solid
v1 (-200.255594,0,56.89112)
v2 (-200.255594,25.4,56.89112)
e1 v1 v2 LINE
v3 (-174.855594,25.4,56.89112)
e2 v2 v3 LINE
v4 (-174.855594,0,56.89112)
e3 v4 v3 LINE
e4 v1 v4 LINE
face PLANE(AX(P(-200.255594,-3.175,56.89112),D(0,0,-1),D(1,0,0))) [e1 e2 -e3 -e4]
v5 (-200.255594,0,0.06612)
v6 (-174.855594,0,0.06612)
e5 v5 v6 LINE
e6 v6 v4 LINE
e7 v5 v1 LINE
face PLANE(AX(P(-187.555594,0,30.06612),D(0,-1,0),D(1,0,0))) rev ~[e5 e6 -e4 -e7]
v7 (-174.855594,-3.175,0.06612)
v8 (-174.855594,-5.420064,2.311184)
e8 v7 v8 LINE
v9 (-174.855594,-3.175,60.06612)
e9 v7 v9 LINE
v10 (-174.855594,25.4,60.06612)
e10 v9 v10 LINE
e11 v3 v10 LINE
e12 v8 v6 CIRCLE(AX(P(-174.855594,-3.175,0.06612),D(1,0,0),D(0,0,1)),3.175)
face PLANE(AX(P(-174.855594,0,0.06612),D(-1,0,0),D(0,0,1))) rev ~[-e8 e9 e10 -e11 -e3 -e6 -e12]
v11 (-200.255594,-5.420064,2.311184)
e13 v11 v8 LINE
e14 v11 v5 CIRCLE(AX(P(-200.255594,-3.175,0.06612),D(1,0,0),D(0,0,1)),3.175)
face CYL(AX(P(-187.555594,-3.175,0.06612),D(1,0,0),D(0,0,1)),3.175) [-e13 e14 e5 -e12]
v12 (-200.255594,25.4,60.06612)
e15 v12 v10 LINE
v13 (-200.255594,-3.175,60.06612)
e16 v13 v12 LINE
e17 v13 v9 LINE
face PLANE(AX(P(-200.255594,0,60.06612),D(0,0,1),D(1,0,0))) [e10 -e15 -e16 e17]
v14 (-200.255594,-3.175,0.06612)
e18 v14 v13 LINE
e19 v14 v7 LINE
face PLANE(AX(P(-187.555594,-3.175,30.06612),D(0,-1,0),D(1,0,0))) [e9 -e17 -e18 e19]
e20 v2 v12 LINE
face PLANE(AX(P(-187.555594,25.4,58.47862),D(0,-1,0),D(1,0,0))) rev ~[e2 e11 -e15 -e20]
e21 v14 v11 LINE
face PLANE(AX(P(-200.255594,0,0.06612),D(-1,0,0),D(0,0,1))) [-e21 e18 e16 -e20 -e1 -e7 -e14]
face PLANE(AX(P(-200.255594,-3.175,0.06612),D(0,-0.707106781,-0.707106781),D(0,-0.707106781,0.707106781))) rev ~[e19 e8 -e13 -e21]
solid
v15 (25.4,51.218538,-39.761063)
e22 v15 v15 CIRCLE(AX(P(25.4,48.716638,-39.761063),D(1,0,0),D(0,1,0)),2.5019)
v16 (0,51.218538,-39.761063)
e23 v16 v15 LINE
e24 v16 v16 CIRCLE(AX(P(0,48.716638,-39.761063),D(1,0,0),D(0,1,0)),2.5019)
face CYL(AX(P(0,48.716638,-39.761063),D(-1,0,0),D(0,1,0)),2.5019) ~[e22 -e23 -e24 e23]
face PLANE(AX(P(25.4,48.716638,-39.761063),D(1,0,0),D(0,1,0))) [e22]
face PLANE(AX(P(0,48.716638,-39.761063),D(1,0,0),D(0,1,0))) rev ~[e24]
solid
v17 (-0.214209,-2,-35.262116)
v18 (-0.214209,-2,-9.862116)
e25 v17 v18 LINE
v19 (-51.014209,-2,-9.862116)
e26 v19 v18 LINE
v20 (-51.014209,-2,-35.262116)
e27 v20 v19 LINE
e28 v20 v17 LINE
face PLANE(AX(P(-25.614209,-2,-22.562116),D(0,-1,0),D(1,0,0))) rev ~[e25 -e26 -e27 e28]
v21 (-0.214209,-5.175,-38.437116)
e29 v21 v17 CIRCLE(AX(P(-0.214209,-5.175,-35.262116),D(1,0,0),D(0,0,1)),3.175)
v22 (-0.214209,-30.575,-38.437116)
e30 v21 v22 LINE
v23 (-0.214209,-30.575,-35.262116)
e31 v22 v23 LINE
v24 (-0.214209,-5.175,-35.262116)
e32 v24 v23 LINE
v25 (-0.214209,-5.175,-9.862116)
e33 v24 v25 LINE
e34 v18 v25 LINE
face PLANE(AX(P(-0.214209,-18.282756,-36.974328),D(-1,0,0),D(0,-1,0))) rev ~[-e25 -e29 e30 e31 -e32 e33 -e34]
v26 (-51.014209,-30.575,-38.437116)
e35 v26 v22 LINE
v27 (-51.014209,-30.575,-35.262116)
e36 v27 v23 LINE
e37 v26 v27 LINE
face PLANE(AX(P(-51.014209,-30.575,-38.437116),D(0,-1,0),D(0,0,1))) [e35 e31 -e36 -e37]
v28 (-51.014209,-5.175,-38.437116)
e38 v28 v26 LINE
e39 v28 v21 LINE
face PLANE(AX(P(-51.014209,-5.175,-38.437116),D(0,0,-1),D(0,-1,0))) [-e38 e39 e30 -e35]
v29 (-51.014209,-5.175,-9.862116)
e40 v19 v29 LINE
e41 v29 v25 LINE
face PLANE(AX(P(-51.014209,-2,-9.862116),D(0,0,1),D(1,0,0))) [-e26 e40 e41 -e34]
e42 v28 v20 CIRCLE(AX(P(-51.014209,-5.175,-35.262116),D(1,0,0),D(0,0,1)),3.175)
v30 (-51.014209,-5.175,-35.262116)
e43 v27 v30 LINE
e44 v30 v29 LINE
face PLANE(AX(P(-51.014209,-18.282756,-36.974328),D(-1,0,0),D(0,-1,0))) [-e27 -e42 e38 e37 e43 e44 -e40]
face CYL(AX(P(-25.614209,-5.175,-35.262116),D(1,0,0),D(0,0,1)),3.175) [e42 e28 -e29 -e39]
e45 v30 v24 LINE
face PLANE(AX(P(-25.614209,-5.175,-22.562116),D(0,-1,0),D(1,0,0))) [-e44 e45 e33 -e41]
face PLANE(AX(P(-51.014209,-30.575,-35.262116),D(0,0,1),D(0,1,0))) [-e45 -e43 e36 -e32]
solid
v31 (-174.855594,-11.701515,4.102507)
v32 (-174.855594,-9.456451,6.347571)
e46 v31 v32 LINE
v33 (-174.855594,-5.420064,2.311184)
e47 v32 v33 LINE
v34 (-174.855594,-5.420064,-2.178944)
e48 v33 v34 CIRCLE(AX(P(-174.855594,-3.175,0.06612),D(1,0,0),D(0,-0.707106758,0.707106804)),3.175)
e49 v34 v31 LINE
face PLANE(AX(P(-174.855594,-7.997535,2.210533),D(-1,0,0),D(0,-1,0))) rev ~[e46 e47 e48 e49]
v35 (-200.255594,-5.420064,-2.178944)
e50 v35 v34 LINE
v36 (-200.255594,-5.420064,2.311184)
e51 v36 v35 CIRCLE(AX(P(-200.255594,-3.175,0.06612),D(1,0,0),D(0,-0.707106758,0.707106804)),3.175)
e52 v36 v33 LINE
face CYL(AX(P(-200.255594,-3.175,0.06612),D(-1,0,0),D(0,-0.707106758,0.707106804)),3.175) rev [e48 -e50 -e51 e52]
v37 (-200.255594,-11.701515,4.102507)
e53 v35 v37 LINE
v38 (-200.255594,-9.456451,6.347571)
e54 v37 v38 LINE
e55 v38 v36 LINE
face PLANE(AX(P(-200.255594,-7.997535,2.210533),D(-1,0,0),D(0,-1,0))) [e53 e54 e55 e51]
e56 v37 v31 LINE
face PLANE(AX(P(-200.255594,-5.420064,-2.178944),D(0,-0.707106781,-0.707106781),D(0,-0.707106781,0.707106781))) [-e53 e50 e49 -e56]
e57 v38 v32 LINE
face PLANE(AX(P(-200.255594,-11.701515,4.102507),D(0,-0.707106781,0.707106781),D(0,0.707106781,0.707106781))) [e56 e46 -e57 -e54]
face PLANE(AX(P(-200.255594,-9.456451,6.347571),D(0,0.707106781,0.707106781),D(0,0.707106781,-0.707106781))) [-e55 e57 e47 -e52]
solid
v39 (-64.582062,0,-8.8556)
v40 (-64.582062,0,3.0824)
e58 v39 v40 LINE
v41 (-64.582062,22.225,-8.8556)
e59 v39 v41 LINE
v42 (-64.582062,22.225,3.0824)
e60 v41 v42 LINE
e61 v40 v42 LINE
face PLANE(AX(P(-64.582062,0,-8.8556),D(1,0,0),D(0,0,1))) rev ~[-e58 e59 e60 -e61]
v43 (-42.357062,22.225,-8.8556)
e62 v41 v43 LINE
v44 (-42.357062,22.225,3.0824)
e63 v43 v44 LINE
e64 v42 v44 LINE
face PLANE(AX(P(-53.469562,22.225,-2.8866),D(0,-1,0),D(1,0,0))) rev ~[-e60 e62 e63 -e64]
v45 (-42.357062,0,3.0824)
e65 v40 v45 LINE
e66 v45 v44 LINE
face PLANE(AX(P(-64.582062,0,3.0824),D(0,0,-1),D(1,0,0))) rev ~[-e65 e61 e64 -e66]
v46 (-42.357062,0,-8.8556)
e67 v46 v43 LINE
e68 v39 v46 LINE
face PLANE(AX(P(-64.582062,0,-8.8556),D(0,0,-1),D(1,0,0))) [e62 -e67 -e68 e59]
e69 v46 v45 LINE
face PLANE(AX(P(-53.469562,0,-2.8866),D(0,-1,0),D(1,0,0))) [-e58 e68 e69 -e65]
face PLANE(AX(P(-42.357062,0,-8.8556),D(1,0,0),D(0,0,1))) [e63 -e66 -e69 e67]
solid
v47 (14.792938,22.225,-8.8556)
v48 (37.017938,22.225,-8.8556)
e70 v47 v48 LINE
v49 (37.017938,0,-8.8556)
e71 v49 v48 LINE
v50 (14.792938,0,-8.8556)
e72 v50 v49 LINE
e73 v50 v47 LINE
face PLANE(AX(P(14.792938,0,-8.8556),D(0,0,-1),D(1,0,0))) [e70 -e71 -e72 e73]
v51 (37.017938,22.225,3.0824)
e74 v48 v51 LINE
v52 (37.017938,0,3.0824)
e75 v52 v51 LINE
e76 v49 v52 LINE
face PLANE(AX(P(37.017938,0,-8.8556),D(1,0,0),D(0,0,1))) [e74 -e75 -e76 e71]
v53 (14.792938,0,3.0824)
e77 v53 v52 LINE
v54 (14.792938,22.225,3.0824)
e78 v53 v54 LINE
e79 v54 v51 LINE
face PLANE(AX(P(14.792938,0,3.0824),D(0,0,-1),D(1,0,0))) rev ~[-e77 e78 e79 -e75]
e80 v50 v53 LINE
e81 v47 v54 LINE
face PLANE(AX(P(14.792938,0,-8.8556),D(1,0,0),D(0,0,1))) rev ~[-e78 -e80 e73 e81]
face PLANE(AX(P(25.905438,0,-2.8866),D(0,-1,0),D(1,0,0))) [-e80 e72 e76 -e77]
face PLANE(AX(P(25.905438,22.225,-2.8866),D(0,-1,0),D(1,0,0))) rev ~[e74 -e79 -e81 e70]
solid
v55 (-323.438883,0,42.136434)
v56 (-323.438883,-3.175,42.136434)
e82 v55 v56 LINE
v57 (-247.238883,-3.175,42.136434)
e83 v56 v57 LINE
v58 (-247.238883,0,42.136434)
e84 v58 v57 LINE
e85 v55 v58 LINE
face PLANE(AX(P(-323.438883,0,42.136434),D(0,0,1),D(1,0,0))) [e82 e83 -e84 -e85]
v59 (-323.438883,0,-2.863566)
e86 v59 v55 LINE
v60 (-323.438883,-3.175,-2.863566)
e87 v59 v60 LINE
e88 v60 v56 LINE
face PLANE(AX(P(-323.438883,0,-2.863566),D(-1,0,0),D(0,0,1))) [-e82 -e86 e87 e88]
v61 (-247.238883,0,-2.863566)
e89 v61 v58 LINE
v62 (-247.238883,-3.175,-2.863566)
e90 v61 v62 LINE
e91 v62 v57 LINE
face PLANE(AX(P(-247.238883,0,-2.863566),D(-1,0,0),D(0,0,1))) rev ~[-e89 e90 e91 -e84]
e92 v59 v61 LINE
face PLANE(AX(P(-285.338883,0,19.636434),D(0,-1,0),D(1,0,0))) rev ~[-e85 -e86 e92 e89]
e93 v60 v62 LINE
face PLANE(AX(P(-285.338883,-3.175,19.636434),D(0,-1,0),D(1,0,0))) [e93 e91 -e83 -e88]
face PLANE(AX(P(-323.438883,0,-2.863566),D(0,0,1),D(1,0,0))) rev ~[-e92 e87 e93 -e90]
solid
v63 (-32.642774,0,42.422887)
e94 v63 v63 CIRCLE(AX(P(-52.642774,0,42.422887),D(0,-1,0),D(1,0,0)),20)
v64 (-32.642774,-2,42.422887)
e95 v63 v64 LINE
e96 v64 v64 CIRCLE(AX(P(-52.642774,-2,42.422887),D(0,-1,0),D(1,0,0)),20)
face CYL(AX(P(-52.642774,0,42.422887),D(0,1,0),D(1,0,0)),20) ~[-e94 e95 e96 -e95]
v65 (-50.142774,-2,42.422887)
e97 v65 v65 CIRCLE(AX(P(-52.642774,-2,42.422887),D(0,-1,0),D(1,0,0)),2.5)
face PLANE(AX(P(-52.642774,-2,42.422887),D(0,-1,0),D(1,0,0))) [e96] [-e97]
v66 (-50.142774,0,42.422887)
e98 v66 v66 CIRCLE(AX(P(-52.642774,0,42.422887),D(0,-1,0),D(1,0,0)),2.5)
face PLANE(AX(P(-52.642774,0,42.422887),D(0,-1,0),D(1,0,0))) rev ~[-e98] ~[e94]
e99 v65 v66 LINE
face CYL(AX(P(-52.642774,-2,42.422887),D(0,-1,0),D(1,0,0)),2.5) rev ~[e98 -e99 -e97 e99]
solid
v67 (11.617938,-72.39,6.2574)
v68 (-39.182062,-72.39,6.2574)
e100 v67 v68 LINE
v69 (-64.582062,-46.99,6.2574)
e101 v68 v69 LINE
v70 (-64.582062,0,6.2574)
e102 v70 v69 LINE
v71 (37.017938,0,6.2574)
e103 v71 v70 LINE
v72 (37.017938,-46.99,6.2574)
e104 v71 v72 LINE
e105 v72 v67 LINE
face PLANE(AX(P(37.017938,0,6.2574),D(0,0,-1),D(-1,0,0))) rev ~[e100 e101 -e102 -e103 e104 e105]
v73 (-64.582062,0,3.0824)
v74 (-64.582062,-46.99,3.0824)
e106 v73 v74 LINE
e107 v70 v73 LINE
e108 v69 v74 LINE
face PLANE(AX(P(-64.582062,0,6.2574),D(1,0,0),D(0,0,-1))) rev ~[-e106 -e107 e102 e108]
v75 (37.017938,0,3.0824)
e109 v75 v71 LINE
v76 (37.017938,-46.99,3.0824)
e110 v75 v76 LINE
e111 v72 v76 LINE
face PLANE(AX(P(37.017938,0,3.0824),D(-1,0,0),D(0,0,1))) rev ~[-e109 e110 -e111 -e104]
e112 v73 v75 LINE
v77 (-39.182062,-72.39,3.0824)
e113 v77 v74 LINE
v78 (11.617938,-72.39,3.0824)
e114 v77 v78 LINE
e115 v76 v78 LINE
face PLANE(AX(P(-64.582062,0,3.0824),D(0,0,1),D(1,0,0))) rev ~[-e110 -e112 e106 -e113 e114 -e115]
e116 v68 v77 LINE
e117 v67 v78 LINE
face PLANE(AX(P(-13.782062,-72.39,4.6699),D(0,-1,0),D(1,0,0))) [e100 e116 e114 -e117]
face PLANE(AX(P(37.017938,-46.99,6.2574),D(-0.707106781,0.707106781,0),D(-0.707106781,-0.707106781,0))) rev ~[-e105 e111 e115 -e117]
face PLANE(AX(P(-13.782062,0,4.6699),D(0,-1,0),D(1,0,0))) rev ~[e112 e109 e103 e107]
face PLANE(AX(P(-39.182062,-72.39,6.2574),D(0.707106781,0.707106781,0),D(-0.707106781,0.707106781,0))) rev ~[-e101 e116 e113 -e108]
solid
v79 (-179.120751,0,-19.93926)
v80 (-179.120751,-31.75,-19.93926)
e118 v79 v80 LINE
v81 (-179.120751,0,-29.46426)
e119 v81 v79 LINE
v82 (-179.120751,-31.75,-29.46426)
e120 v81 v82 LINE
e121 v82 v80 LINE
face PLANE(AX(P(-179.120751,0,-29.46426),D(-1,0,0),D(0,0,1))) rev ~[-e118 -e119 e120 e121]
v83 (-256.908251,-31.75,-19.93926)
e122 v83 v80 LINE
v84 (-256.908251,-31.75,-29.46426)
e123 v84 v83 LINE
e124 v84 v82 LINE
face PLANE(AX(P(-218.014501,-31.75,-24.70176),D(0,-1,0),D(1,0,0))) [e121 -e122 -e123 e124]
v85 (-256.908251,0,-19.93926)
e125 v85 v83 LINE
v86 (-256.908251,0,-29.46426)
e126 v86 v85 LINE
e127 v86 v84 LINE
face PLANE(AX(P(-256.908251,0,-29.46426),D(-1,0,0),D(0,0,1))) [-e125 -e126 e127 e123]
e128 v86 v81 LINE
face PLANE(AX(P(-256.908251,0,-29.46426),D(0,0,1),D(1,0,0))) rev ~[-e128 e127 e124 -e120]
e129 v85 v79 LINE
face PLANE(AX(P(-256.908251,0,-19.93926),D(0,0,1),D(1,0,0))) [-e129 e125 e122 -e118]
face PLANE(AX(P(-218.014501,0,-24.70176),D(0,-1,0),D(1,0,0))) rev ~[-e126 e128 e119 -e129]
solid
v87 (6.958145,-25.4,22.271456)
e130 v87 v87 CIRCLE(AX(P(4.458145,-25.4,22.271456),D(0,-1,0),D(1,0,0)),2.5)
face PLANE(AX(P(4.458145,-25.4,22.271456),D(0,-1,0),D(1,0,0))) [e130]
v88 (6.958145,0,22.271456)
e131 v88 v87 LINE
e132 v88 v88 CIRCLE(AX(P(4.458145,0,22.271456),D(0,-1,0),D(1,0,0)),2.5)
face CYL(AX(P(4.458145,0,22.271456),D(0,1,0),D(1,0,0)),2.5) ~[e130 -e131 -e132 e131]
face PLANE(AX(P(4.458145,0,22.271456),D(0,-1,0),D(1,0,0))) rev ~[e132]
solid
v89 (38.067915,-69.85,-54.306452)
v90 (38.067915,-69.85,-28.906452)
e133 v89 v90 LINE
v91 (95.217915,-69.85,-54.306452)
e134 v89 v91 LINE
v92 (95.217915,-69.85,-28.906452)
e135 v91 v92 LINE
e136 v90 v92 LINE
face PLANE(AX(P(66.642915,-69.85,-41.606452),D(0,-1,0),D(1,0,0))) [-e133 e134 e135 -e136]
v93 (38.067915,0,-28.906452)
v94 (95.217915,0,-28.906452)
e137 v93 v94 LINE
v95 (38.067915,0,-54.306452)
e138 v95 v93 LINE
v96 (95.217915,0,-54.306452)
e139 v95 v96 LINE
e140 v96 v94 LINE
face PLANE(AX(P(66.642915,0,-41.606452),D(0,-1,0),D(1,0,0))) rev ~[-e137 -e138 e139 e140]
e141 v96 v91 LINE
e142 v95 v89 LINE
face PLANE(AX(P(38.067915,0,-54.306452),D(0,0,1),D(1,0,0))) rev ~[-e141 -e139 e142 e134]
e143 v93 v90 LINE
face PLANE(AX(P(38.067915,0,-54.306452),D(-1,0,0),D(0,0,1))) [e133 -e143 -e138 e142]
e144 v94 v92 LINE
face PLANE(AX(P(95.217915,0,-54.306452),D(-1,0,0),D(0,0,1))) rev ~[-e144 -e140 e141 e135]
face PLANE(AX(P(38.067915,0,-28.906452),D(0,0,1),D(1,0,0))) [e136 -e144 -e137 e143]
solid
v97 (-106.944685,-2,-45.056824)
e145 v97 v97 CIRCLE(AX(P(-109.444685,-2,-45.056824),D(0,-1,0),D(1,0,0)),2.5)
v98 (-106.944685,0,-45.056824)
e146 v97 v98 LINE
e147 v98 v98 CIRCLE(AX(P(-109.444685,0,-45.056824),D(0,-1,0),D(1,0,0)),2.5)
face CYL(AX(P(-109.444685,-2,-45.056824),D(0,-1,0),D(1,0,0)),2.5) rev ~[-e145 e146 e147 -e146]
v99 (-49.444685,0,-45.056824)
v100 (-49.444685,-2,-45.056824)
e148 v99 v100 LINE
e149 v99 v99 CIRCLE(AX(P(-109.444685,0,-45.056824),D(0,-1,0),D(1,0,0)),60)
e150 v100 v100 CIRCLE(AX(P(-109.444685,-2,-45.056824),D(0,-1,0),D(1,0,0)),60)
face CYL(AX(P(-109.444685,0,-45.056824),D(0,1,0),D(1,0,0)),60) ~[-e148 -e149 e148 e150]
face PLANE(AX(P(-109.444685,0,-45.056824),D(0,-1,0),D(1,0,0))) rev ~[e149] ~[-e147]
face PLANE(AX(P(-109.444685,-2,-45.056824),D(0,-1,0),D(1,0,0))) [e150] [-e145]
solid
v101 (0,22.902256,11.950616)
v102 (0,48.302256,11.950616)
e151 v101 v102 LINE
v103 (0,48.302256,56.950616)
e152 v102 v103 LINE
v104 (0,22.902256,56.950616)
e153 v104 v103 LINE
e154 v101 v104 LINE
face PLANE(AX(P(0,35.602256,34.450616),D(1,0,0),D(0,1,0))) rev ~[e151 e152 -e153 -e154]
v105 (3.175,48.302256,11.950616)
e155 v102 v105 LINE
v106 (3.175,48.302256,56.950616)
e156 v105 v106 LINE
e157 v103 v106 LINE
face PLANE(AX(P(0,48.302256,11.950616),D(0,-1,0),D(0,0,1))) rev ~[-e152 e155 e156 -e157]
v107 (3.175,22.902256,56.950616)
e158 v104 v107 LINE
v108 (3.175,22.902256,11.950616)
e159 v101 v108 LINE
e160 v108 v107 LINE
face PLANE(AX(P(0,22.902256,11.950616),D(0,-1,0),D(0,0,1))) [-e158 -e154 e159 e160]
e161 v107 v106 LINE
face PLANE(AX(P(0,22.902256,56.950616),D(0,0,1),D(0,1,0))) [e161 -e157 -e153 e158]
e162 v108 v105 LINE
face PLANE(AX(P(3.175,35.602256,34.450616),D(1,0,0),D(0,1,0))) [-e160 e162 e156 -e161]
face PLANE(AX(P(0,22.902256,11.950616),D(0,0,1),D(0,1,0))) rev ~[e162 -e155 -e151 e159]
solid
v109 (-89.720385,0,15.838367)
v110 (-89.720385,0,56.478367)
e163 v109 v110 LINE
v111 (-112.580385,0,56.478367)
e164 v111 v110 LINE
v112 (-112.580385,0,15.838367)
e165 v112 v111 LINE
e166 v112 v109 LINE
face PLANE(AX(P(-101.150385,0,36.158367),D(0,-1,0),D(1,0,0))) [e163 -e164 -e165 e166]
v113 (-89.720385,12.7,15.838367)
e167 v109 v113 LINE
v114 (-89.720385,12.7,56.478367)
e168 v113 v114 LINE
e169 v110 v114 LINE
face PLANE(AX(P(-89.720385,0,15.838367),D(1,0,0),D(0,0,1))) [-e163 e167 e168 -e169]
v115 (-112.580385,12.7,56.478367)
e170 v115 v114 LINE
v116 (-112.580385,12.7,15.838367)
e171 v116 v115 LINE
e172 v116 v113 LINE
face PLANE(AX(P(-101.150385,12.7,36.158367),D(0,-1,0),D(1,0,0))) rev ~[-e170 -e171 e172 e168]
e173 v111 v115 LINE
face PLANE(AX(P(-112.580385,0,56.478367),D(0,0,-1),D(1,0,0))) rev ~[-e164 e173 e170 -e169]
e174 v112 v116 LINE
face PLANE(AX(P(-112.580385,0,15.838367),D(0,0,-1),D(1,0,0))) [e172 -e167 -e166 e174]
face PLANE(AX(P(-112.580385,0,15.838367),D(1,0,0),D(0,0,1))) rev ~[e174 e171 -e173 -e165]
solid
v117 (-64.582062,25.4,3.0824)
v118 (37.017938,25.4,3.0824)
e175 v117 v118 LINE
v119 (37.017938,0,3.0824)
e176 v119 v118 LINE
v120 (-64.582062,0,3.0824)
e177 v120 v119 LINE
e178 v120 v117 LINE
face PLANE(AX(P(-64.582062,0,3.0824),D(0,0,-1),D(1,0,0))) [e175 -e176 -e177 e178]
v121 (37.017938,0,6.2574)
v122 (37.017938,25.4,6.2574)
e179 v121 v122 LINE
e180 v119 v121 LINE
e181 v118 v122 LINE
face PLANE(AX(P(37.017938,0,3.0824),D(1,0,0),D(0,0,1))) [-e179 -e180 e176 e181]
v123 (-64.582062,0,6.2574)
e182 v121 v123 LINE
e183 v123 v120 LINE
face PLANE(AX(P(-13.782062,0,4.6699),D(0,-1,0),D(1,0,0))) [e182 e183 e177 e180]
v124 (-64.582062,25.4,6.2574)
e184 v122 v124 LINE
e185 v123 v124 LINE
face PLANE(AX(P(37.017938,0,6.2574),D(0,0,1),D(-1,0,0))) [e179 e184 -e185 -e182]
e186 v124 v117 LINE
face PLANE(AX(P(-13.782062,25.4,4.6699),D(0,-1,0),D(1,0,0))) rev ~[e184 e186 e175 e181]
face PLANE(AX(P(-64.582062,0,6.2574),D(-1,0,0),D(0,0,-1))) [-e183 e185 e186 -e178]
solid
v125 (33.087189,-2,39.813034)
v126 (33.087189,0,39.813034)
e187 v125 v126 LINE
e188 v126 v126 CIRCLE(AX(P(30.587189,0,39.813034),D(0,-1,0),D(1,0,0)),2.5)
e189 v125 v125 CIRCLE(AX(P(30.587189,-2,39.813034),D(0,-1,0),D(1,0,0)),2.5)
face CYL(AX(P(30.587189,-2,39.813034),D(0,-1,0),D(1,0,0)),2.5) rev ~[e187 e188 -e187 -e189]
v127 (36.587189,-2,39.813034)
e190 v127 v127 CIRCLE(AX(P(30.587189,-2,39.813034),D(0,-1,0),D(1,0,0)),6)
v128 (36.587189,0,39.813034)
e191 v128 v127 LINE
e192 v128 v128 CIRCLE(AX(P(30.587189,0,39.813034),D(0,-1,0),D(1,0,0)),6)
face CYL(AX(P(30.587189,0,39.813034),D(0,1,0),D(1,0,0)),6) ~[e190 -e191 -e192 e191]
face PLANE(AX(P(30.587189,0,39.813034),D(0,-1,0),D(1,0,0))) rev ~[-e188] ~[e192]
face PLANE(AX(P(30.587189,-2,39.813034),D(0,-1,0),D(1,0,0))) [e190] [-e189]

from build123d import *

# Parameters (mm, degrees)
F0_W      = 22.225
F0_H      = 11.938
F1_DEPTH  = 22.225
F2_DEPTH  = 22.225
F3_W      = 22.86
F3_H      = 40.64
F4_DEPTH  = 12.7
F5_W      = 57.15
F5_H      = 25.4
F6_DEPTH  = 69.85
F7_DEPTH  = 25.4
F8_DEPTH  = 72.39
F9_R      = 20
F10_DEPTH = 2
F11_R     = 6
F12_DEPTH = 2
F14_DEPTH = 25.4
F15_W     = 50.8
F15_H     = 25.4
F16_DEPTH = 3.175
F17_W     = 50.8
F17_H     = 3.175
F20_DEPTH = 50.8
F22_DEPTH = 50.8
F23_R     = 60
F24_DEPTH = 2
F25_R     = 2.5
F26_DEPTH = 25.4
F27_R     = 2.5
F28_DEPTH = 25.4
F29_R     = 2.5
F30_DEPTH = 25.4
F31_R     = 2.5
F32_DEPTH = 25.4
F33_W     = 77.7875
F33_H     = 9.525
F34_DEPTH = 31.75
F35_W     = 25.4
F35_H     = 60
F36_DEPTH = 3.175
F37_W     = 25.4
F37_H     = 3.175
F40_DEPTH = 25.4
F41_DEPTH = 25.4
F42_W     = 25.4
F42_H     = 3.175
F43_DEPTH = 28.575
F44_W     = 76.2
F44_H     = 45
F45_DEPTH = 3.175
F46_W     = 25.4
F46_H     = 45
F47_DEPTH = 3.175
F48_R     = 2.5019
F49_DEPTH = 25.4


with BuildPart() as f1:
    # F0 (on Front) → F1 (new body)
    with BuildSketch(Plane.XZ):
        with Locations((-53.469562, -2.8866)):
            Rectangle(F0_W, F0_H)
    extrude(amount=-F1_DEPTH)


with BuildPart() as f2:
    # F0 (on Front) → F2 (new body)
    with BuildSketch(Plane.XZ):
        with Locations((25.905438, -2.8866)):
            Rectangle(F0_W, F0_H)
    extrude(amount=-F2_DEPTH)


with BuildPart() as f4:
    # F3 (on Front) → F4 (new body)
    with BuildSketch(Plane.XZ):
        with Locations((-101.150385, 36.158367)):
            Rectangle(F3_W, F3_H)
    extrude(amount=-F4_DEPTH)


with BuildPart() as f6:
    # F5 (on Front) → F6 (new body)
    with BuildSketch(Plane.XZ):
        with Locations((66.642915, -41.606452)):
            Rectangle(F5_W, F5_H)
    extrude(amount=F6_DEPTH)


with BuildPart() as f7:
    # F0 (on Front) → F7 (new body)
    with BuildSketch(Plane.XZ):
        Polygon((-64.582062, 6.2574), (-64.582062, 3.0824), (-42.357062, 3.0824), (14.792938, 3.0824), (37.017938, 3.0824), (37.017938, 6.2574), align=None)
    extrude(amount=-F7_DEPTH)


with BuildPart() as f8:
    # F0 (on Front) → F8 (new body)
    with BuildSketch(Plane.XZ):
        Polygon((-64.582062, 6.2574), (-64.582062, 3.0824), (-42.357062, 3.0824), (14.792938, 3.0824), (37.017938, 3.0824), (37.017938, 6.2574), align=None)
    extrude(amount=F8_DEPTH)

    # F13 (on face) → F14 (cut)
    with BuildSketch(Plane.XY.offset(6.2574)):
        Polygon((-64.582062, -72.39), (-39.182062, -72.39), (-64.582062, -46.99), align=None)
        Polygon((37.017938, -72.39), (37.017938, -46.99), (11.617938, -72.39), align=None)
    extrude(amount=-F14_DEPTH, mode=Mode.SUBTRACT)


with BuildPart() as f10:
    # F9 (on Front) → F10 (new body)
    with BuildSketch(Plane.XZ):
        with Locations((-52.642774, 42.422887)):
            Circle(F9_R)
    extrude(amount=F10_DEPTH)

    # F27 (on face) → F28 (cut)
    with BuildSketch(Plane.XZ.offset(2)):
        with Locations((-52.642774, 42.422887)):
            Circle(F27_R)
    extrude(amount=-F28_DEPTH, mode=Mode.SUBTRACT)


with BuildPart() as f12:
    # F11 (on Front) → F12 (new body)
    with BuildSketch(Plane.XZ):
        with Locations((30.587189, 39.813034)):
            Circle(F11_R)
    extrude(amount=F12_DEPTH)

    # F29 (on face) → F30 (cut)
    with BuildSketch(Plane.XZ.offset(2)):
        with Locations((30.587189, 39.813034)):
            Circle(F29_R)
    extrude(amount=-F30_DEPTH, mode=Mode.SUBTRACT)


with BuildPart() as f16:
    # F15 (on face) → F16 (new body)
    with BuildSketch(Plane.XZ.offset(2)):
        with Locations((-25.614209, -22.562116)):
            Rectangle(F15_W, F15_H)
    extrude(amount=F16_DEPTH)

    # F17 (on face) → F18 (revolve)
    with BuildSketch(Plane.XZ.offset(5.175)):
        with Locations((-25.614209, -33.674616)):
            Rectangle(F17_W, F17_H)
    revolve(axis=Axis((-25.614209, -5.175, -35.262116), (1, 0, 0)))

    # F19 (on face) → F20 (cut)
    with BuildSketch(Plane(origin=(-51.014209, 0, 0), x_dir=(0, -1, 0), z_dir=(-1, 0, 0))):
        with BuildLine():
            ThreePointArc((8.35, -35.262116), (7.420064, -33.017052), (5.175, -32.087116))
            Line((5.175, -32.087116), (5.175, -35.262116))
            Line((5.175, -35.262116), (8.35, -35.262116))
        make_face()
    extrude(amount=-F20_DEPTH, mode=Mode.SUBTRACT)

    # F21 (on face) → F22 (join)
    with BuildSketch(Plane(origin=(-51.014209, 0, 0), x_dir=(0, -1, 0), z_dir=(-1, 0, 0))):
        with BuildLine():
            ThreePointArc((8.35, -35.262116), (7.420064, -37.507181), (5.175, -38.437116))
            Line((5.175, -38.437116), (30.575, -38.437116))
            Line((30.575, -38.437116), (30.575, -35.262116))
            Line((30.575, -35.262116), (8.35, -35.262116))
        make_face()
    extrude(amount=-F22_DEPTH)


with BuildPart() as f24:
    # F23 (on Front) → F24 (new body)
    with BuildSketch(Plane.XZ):
        with Locations((-109.444685, -45.056824)):
            Circle(F23_R)
    extrude(amount=F24_DEPTH)

    # F25 (on face) → F26 (cut)
    with BuildSketch(Plane.XZ.offset(2)):
        with Locations((-109.444685, -45.056824)):
            Circle(F25_R)
    extrude(amount=-F26_DEPTH, mode=Mode.SUBTRACT)


with BuildPart() as f32:
    # F31 (on Front) → F32 (new body)
    with BuildSketch(Plane.XZ):
        with Locations((4.458145, 22.271456)):
            Circle(F31_R)
    extrude(amount=F32_DEPTH)


with BuildPart() as f34:
    # F33 (on Front) → F34 (new body)
    with BuildSketch(Plane.XZ):
        with Locations((-218.014501, -24.70176)):
            Rectangle(F33_W, F33_H)
    extrude(amount=F34_DEPTH)


with BuildPart() as f36:
    # F35 (on Front) → F36 (new body)
    with BuildSketch(Plane.XZ):
        with Locations((-187.555594, 30.06612)):
            Rectangle(F35_W, F35_H)
    extrude(amount=F36_DEPTH)

    # F37 (on face) → F38 (revolve)
    with BuildSketch(Plane.XZ.offset(3.175)):
        with Locations((-187.555594, 1.65362)):
            Rectangle(F37_W, F37_H)
    revolve(axis=Axis((-187.555594, -3.175, 0.06612), (1, 0, 0)))

    # F39 (on face) → F41 (cut)
    with BuildSketch(Plane(origin=(-200.255594, 0, 0), x_dir=(0, -1, 0), z_dir=(-1, 0, 0))):
        with BuildLine():
            ThreePointArc((5.420064, 2.311184), (4.39002, 2.999437), (3.175, 3.24112))
            Line((3.175, 3.24112), (3.175, 0.06612))
            Line((3.175, 0.06612), (5.420064, 2.311184))
        make_face()
    extrude(amount=-F41_DEPTH, mode=Mode.SUBTRACT)

    # F42 (on face) → F43 (join)
    with BuildSketch(Plane.XZ.offset(3.175)):
        with Locations((-187.555594, 58.47862)):
            Rectangle(F42_W, F42_H)
    extrude(amount=-F43_DEPTH)


with BuildPart() as f40:
    # F39 (on face) → F40 (new body)
    with BuildSketch(Plane(origin=(-200.255594, 0, 0), x_dir=(0, -1, 0), z_dir=(-1, 0, 0))):
        with BuildLine():
            Line((9.456451, 6.347571), (5.420064, 2.311184))
            ThreePointArc((5.420064, 2.311184), (6.35, 0.06612), (5.420064, -2.178944))
            Line((5.420064, -2.178944), (11.701515, 4.102507))
            Line((11.701515, 4.102507), (9.456451, 6.347571))
        make_face()
    extrude(amount=-F40_DEPTH)


with BuildPart() as f45:
    # F44 (on Front) → F45 (new body)
    with BuildSketch(Plane.XZ):
        with Locations((-285.338883, 19.636434)):
            Rectangle(F44_W, F44_H)
    extrude(amount=F45_DEPTH)


with BuildPart() as f47:
    # F46 (on Right) → F47 (new body)
    with BuildSketch(Plane.YZ):
        with Locations((35.602256, 34.450616)):
            Rectangle(F46_W, F46_H)
    extrude(amount=F47_DEPTH)


with BuildPart() as f49:
    # F48 (on Right) → F49 (new body)
    with BuildSketch(Plane.YZ):
        with Locations((48.716638, -39.761063)):
            Circle(F48_R)
    extrude(amount=F49_DEPTH)


solid = Compound([f1.part, f2.part, f4.part, f6.part, f7.part, f8.part, f10.part, f12.part, f16.part, f24.part, f32.part, f34.part, f36.part, f40.part, f45.part, f47.part, f49.part])
